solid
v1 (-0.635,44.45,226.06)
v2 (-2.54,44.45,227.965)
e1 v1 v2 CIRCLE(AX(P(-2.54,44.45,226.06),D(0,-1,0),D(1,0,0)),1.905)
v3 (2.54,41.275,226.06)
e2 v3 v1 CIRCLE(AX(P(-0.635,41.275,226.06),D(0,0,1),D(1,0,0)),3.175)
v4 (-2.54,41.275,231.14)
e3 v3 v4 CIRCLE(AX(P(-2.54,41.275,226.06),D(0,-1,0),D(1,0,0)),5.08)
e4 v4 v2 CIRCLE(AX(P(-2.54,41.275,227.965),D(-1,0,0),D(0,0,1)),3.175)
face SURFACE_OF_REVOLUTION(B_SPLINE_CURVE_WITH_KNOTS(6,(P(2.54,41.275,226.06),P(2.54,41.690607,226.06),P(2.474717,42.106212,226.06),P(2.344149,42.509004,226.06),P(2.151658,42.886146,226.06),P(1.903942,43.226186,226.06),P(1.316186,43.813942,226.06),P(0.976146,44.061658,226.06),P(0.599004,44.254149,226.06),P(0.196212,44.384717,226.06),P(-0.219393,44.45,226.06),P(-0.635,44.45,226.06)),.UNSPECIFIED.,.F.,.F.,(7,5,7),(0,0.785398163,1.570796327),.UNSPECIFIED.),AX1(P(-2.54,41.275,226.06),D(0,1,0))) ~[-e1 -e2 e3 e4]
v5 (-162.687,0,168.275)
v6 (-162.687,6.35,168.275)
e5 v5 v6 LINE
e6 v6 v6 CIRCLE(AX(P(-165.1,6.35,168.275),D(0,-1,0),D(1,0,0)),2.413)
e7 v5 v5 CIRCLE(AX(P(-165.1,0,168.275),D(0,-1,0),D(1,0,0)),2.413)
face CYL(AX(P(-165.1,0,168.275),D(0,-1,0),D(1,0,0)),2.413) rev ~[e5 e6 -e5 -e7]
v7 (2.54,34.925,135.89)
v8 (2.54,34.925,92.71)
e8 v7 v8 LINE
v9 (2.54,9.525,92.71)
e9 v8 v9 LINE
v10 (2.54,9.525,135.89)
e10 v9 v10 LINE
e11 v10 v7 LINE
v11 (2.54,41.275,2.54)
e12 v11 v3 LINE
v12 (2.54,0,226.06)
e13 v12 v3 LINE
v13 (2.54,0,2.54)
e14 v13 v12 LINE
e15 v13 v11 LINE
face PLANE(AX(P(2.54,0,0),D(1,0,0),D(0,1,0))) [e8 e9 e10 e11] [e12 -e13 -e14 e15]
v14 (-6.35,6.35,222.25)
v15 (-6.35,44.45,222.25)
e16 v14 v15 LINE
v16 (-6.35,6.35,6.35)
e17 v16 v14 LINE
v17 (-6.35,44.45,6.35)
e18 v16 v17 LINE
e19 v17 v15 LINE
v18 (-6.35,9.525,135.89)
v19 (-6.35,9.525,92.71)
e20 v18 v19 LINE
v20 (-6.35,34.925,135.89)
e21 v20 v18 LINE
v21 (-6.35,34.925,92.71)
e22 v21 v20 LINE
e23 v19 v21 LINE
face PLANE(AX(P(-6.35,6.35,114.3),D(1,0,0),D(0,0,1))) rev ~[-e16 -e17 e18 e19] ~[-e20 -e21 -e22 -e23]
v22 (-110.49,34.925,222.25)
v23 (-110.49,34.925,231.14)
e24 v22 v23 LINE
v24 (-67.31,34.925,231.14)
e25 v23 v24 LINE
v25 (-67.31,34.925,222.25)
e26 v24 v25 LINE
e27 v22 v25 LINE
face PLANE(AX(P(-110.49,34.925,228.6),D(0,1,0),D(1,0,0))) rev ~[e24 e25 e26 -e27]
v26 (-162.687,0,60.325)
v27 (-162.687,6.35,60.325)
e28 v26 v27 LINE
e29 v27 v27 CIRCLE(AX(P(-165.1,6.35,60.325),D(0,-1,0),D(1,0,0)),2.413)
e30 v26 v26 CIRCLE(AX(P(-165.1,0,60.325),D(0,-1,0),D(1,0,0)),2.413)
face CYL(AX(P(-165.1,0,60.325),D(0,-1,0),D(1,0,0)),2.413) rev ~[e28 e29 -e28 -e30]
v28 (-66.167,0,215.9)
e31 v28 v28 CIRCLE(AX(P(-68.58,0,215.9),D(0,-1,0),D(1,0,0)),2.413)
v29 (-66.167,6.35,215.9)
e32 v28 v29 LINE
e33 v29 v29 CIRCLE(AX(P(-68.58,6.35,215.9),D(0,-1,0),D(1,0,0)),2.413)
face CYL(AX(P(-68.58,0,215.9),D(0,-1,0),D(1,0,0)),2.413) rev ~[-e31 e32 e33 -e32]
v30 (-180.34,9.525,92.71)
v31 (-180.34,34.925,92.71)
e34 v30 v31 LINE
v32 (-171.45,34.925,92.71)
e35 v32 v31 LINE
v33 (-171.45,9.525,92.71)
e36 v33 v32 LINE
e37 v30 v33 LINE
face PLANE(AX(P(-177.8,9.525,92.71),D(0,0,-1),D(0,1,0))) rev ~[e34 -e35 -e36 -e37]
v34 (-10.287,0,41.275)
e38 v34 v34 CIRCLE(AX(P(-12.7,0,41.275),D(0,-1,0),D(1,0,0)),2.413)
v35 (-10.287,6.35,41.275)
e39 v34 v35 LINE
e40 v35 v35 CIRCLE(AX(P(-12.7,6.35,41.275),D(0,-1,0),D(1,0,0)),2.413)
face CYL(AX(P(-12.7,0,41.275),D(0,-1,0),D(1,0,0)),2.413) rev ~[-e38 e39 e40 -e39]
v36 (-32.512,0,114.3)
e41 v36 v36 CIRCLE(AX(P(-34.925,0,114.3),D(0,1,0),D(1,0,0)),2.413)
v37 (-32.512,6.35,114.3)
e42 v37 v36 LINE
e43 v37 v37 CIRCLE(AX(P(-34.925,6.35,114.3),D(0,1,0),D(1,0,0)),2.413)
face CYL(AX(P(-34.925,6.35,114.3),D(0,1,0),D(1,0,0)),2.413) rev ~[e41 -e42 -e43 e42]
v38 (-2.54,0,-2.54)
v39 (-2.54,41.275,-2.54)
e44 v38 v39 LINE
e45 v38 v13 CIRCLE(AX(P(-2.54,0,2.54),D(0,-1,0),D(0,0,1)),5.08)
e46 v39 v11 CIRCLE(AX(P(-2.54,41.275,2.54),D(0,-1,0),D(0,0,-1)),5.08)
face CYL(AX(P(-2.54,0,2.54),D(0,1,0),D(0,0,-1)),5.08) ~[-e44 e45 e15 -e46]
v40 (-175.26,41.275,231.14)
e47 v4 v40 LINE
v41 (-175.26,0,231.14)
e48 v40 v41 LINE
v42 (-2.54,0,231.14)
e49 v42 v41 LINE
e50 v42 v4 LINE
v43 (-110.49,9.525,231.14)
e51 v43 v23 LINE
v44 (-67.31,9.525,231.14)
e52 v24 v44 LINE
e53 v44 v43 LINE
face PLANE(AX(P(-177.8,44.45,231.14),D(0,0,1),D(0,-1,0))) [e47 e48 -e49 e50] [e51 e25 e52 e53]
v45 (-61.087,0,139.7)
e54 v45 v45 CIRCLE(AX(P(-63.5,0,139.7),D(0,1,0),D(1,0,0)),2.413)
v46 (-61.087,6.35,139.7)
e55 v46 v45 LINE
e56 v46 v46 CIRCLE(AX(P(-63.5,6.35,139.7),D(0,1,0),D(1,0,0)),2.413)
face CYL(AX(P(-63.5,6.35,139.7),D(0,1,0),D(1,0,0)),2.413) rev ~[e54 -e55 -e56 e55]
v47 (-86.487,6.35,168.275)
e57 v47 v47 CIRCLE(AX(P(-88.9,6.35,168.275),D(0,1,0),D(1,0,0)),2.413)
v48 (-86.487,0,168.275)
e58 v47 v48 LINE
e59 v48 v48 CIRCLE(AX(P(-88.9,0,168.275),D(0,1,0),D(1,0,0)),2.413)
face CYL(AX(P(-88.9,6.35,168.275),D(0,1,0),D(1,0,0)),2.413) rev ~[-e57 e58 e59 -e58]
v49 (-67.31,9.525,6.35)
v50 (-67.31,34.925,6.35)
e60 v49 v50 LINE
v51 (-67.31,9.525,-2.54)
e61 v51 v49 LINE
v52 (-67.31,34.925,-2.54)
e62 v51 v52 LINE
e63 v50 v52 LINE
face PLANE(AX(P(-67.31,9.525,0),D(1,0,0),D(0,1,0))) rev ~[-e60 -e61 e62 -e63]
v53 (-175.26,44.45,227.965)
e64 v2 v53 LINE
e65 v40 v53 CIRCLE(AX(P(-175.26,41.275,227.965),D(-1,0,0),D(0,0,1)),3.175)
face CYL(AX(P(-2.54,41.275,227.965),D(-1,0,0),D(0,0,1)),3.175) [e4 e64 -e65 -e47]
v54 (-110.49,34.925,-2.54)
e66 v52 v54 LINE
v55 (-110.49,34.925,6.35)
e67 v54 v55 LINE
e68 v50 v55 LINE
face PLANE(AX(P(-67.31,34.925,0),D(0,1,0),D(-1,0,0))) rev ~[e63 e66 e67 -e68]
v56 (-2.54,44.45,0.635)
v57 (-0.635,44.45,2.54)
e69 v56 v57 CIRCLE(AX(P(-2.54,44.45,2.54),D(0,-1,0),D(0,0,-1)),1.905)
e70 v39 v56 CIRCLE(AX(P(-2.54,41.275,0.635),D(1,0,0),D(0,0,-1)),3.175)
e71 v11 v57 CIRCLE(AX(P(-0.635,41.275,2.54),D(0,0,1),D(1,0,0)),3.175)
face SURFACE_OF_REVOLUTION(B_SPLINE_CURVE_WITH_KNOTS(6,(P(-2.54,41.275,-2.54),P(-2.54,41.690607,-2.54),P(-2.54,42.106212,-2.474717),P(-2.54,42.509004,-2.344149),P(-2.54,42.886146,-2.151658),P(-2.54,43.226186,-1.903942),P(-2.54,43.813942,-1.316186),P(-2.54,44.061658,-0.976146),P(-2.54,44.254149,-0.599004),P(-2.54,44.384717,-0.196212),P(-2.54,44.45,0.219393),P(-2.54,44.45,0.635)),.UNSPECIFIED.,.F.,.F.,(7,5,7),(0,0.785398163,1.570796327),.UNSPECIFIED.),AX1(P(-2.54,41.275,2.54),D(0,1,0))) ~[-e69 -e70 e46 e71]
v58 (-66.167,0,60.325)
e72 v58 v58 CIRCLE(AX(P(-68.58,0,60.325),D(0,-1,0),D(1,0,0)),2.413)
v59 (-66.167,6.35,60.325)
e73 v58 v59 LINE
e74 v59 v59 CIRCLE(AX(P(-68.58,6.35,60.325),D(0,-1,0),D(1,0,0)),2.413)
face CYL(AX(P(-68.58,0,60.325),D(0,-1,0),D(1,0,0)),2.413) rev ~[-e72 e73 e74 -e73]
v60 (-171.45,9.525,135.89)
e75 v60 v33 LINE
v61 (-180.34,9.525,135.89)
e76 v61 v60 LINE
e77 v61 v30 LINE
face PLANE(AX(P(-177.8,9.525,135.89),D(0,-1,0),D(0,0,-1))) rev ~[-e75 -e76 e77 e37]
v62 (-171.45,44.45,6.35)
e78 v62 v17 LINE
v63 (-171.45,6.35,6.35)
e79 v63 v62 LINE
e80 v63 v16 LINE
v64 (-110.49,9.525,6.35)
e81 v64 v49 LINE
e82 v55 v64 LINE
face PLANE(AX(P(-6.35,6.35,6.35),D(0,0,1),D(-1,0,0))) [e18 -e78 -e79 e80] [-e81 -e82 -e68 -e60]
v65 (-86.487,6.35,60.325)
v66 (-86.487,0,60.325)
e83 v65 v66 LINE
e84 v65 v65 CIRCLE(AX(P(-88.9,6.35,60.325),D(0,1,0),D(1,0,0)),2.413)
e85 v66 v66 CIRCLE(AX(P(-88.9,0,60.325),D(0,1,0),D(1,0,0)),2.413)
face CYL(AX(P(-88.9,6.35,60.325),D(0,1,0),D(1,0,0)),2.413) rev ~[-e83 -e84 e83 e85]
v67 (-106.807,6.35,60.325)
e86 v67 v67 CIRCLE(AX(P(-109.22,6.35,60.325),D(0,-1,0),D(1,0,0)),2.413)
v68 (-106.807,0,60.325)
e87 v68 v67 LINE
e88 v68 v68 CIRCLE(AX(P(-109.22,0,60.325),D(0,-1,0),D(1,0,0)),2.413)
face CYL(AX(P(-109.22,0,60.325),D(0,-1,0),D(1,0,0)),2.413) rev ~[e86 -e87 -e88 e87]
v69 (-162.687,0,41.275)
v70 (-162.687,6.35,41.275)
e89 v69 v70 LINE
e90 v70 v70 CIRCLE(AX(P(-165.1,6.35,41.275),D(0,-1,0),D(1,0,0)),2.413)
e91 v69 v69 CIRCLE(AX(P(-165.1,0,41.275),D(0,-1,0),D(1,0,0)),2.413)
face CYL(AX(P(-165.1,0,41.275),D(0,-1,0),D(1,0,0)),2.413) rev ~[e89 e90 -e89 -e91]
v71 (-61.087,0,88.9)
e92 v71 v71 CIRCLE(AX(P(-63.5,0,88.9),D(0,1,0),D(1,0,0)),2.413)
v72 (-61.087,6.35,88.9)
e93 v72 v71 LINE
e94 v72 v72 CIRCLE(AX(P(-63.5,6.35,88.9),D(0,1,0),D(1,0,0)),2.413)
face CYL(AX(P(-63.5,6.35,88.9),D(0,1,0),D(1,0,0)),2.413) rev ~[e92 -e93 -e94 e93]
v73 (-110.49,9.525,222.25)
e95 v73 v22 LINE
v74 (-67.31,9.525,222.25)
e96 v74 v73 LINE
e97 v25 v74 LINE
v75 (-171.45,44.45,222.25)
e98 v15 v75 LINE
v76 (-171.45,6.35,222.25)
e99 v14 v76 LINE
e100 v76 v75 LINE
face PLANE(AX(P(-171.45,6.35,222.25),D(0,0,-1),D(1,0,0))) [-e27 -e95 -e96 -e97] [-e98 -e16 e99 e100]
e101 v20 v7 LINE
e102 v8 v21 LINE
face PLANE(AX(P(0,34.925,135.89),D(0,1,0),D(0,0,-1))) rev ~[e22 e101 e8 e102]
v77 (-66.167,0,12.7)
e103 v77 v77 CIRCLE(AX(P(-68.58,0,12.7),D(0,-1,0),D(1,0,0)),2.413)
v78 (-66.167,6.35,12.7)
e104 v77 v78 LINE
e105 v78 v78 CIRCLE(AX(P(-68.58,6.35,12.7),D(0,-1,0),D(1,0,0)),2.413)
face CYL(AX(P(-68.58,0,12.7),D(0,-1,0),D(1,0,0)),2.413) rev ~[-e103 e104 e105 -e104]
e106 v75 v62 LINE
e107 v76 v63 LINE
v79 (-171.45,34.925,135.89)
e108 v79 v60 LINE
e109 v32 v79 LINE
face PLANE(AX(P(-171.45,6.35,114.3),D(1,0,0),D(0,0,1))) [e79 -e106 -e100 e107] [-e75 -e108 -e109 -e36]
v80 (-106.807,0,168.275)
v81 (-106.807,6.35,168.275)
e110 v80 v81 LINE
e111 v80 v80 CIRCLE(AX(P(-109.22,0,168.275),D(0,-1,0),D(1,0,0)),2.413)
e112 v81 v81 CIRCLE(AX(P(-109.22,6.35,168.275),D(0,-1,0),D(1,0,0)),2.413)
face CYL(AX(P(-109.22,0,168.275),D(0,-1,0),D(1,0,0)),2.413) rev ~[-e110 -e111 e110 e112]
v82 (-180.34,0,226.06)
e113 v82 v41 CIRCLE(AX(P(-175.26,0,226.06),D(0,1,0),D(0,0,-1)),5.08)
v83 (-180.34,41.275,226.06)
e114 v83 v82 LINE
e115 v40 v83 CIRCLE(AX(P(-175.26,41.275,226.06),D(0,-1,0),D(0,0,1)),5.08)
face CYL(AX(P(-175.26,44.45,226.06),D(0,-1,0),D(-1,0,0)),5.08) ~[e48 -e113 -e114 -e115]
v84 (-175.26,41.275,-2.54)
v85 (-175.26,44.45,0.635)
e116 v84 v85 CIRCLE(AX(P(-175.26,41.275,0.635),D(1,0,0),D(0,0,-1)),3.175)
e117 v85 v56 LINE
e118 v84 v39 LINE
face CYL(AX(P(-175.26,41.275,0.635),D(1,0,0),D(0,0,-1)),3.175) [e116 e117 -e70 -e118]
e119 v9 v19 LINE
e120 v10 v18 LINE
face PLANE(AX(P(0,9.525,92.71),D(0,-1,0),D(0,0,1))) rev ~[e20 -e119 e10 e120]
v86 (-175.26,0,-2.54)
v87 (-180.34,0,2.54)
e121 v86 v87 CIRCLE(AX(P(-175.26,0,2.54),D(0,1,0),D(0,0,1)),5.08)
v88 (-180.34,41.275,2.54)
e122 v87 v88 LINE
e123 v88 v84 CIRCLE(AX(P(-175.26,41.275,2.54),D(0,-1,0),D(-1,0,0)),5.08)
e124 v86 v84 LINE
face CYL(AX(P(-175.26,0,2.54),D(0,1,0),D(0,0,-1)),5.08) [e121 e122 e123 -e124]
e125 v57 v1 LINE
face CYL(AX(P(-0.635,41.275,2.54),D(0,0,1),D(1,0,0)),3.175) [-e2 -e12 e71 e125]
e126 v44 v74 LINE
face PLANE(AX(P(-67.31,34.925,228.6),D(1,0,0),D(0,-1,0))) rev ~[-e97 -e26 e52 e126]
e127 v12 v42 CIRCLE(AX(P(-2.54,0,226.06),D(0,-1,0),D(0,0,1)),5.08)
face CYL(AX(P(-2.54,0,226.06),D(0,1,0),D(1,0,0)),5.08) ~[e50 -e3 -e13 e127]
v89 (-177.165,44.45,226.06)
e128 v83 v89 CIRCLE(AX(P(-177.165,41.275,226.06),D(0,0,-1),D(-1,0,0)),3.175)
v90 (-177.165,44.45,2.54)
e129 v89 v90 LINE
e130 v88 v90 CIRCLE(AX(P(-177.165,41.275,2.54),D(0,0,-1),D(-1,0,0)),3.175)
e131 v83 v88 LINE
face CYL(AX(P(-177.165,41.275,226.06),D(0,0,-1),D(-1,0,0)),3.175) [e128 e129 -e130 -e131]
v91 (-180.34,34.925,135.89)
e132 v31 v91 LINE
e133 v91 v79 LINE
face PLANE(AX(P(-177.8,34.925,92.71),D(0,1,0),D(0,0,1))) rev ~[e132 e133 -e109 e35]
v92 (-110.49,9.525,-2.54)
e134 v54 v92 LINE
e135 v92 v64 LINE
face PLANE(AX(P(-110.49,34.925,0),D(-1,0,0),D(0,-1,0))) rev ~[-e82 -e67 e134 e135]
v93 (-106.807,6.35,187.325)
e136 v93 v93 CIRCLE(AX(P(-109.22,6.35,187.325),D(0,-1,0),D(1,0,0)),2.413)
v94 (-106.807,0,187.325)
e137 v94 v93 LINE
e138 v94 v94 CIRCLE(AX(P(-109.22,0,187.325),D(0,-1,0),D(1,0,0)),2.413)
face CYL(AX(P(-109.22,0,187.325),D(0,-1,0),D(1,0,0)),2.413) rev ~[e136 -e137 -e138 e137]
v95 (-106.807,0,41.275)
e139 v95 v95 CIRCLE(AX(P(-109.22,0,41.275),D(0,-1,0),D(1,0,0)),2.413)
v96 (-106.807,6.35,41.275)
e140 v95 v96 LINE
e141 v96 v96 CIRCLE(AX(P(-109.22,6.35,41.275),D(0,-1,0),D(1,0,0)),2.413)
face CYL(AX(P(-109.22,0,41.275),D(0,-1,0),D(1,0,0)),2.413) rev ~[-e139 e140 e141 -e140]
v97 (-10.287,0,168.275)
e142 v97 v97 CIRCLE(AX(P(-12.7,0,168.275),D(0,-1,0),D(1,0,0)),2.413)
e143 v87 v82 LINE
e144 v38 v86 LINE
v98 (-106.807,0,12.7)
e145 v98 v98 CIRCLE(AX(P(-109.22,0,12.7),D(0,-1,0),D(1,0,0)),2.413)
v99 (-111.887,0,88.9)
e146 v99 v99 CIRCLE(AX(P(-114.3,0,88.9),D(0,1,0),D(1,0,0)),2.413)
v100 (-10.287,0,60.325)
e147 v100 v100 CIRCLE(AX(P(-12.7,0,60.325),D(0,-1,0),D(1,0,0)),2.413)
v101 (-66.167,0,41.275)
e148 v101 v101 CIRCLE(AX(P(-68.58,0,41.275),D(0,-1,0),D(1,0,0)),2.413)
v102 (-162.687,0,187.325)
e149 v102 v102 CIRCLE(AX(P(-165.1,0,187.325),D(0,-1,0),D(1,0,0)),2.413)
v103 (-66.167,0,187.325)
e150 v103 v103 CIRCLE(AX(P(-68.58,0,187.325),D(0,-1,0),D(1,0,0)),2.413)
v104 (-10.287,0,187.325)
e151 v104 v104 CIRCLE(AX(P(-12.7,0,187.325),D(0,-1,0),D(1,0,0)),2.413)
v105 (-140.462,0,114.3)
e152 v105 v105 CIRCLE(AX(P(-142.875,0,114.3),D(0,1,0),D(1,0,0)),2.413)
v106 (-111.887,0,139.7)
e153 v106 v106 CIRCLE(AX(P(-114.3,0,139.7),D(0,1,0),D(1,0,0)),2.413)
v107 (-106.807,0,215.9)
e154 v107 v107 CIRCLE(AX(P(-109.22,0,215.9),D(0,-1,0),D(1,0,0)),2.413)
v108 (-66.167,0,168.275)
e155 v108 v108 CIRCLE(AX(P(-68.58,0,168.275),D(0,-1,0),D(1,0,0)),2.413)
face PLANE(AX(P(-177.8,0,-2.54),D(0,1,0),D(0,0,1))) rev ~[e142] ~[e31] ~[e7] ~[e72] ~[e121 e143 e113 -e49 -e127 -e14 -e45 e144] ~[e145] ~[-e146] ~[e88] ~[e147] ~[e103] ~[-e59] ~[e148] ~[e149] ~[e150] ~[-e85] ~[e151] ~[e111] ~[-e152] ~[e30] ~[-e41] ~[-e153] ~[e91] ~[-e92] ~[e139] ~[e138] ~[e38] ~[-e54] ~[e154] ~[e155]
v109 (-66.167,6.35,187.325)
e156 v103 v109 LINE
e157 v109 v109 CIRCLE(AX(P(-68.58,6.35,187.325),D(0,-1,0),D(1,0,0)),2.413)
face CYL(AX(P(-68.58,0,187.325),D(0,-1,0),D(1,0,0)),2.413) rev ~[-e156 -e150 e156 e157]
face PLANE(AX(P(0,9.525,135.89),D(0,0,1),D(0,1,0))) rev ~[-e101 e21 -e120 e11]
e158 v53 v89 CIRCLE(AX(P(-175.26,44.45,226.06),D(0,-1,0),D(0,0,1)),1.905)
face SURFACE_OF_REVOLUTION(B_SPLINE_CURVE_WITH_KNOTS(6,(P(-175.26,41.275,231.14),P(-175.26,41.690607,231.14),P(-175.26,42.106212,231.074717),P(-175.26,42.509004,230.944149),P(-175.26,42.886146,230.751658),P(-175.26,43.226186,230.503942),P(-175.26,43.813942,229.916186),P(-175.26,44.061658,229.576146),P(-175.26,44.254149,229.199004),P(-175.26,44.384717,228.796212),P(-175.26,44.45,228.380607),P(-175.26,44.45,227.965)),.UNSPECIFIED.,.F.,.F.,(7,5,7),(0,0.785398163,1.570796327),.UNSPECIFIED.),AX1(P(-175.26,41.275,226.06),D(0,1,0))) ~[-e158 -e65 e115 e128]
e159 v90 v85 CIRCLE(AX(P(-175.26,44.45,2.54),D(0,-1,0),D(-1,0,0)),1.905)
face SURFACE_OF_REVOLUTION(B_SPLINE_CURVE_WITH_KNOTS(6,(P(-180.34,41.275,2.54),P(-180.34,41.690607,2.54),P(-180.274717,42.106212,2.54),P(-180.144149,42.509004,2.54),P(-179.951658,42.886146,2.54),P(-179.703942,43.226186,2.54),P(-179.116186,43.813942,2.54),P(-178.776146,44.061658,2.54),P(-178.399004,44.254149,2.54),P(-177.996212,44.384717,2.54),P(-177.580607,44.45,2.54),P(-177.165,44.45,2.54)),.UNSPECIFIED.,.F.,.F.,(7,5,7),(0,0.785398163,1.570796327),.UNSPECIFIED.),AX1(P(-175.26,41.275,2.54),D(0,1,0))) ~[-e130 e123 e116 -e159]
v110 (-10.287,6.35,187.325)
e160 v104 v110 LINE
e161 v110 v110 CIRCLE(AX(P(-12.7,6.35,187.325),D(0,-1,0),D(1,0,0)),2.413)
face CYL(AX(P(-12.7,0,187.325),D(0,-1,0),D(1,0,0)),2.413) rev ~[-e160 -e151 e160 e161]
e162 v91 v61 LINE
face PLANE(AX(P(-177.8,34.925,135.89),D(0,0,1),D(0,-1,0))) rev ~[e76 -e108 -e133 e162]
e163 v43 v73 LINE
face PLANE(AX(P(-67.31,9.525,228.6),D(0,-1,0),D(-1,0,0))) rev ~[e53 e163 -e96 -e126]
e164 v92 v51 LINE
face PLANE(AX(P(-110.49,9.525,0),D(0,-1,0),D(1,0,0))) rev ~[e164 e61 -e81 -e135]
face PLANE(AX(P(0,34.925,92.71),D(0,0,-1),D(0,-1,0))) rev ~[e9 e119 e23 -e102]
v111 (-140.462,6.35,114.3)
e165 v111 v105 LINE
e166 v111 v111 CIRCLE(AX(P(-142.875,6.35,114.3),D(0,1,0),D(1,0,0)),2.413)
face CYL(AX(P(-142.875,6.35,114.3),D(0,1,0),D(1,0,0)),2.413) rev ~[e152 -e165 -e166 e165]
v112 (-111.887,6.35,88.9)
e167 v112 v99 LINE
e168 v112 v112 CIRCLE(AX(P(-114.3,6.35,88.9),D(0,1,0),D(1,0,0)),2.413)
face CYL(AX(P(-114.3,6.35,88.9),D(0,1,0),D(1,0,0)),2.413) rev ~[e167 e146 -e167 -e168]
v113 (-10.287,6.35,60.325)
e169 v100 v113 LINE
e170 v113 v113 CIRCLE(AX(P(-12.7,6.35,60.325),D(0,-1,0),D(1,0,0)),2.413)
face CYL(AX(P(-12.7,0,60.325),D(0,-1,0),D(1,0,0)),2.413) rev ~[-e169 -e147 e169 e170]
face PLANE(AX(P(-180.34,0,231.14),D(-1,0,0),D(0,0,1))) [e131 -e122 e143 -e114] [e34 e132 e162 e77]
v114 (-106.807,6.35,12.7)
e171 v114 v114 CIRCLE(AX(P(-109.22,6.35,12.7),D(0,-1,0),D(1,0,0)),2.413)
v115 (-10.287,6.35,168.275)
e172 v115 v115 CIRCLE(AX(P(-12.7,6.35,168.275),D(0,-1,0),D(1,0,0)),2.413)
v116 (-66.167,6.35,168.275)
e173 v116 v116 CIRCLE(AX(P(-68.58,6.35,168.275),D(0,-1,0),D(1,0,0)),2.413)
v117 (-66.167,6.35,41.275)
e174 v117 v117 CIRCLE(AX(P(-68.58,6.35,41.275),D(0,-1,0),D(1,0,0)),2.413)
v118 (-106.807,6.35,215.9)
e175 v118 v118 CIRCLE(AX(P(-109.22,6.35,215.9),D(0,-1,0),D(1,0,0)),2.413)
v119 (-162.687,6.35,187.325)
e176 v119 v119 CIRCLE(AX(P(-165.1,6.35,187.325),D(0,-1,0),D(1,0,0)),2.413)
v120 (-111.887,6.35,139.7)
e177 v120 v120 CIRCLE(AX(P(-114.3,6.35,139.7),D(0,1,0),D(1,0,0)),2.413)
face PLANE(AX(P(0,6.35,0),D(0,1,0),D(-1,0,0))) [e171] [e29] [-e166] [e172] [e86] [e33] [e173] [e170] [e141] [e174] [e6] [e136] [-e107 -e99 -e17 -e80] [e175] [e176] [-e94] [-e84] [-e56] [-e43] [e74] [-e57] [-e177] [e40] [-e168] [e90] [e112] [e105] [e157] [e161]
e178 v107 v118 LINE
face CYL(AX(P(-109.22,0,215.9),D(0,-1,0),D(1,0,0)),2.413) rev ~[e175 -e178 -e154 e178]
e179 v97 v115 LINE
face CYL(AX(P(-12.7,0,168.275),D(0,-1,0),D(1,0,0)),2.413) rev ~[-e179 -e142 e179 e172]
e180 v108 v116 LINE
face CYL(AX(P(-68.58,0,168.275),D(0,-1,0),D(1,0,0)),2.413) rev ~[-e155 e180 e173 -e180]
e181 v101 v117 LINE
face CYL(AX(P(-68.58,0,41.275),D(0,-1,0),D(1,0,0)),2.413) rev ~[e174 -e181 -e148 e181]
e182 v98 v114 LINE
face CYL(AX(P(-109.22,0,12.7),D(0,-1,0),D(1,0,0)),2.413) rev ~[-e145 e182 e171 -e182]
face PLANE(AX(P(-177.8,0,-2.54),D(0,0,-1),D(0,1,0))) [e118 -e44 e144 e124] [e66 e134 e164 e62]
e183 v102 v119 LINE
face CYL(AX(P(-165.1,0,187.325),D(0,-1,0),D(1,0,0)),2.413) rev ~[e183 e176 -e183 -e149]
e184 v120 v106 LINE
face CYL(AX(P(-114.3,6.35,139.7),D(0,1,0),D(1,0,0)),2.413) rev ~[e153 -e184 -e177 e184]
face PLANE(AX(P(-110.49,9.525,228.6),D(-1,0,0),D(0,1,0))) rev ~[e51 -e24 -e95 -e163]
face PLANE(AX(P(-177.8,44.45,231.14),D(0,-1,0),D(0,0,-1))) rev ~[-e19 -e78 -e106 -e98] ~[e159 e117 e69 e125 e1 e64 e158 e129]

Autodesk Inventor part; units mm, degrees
ref_plane "YZ Plane" through (0, 0, 0) normal (1, 0, 0) x (0, 1, 0)
ref_plane "XZ Plane" through (0, 0, 0) normal (0, 1, 0) x (-1, 0, 0)
ref_plane "XY Plane" through (0, 0, 0) normal (0, 0, 1) x (1, 0, 0)
sketch "Sketch2" plane through (0, 0, 0) normal (0, 1, 0) x (-1, 0, 0)
  line L0 (0, 0) -> (177.8, 0)
  line L1 (177.8, 0) -> (177.8, 228.6)
  line L2 (177.8, 228.6) -> (0, 228.6)
  line L3 (0, 228.6) -> (0, 0)
  dimension "d0" = 177.8
  dimension "d1" = 228.6
extrude "Extrusion1" add sketch "Sketch2" along normal blind 6.35
sketch "Sketch3" plane through (0, 6.35, 0) normal (0, 1, 0) x (1, 0, 0)
  line L0 (-177.8, -228.6) -> (0, -228.6) projected
  line L1 (-177.8, 0) -> (-177.8, -228.6) projected
  line L2 (0, 0) -> (-177.8, 0) projected
  line L3 (0, -228.6) -> (0, 0) projected
  line L4 (-88.9, -228.6) -> (-88.9, -222.25) construction
  line L5 (-88.9, 0) -> (-88.9, -6.35) construction
  line L6 (-177.8, -114.3) -> (-171.45, -114.3) construction
  line L7 (0, -114.3) -> (-6.35, -114.3) construction
  line L8 (-171.45, -114.3) -> (-171.45, -6.35)
  line L9 (-171.45, -114.3) -> (-171.45, -222.25)
  line L10 (-171.45, -6.35) -> (-88.9, -6.35)
  line L11 (-6.35, -6.35) -> (-88.9, -6.35)
  line L12 (-6.35, -6.35) -> (-6.35, -114.3)
  line L13 (-6.35, -114.3) -> (-6.35, -222.25)
  line L14 (-6.35, -222.25) -> (-88.9, -222.25)
  line L15 (-171.45, -222.25) -> (-88.9, -222.25)
  line L16 (-177.8, -228.6) -> (0, -228.6)
  line L17 (0, -228.6) -> (0, 0)
  line L18 (0, 0) -> (-177.8, 0)
  line L19 (-177.8, 0) -> (-177.8, -228.6)
  dimension "d4" = 6.35
  dimension "d5" = 6.35
  dimension "d6" = 6.35
  dimension "d7" = 6.35
extrude "Extrusion2" add sketch "Sketch3" along normal blind 38.1
sketch "Sketch4" plane through (0, 0, 0) normal (0, -1, 0) x (1, 0, 0)
  line L0 (-177.8, 0) -> (-177.8, 228.6) projected
  line L1 (-177.8, 228.6) -> (0, 228.6) construction
  line L2 (0, 228.6) -> (0, 0) projected
  line L3 (0, 0) -> (-177.8, 0) projected
  line L4 (-88.9, 228.6) -> (-88.9, 0) construction
  line L5 (0, 114.3) -> (-177.8, 114.3) construction
  line L6 (-88.9, 228.6) -> (-68.58, 228.6)
  line L7 (0, 228.6) -> (-177.8, 228.6) construction
  line L8 (-88.9, 228.6) -> (-109.22, 228.6)
  line L9 (-68.58, 228.6) -> (-68.58, 0) construction
  line L10 (-109.22, 228.6) -> (-109.22, 0) construction
  line L11 (-68.58, 228.6) -> (-68.58, 177.8) construction
  line L12 (-109.22, 228.6) -> (-109.22, 177.8) construction
  line L13 (-68.58, 177.8) -> (-68.58, 187.325) construction
  line L14 (-68.58, 177.8) -> (-68.58, 168.275) construction
  circle A0 centre (-68.58, 187.325) radius 2.413
  circle A1 centre (-68.58, 168.275) radius 2.413
  line L15 (-68.58, 187.325) -> (0, 187.325) construction
  line L16 (0, 187.325) -> (-12.7, 187.325) construction
  line L17 (-68.58, 168.275) -> (0, 168.275) construction
  line L18 (0, 168.275) -> (-12.7, 168.275) construction
  circle A2 centre (-12.7, 187.325) radius 2.413
  circle A3 centre (-12.7, 168.275) radius 2.413
  circle A4 centre (-68.58, 215.9) radius 2.413
  circle A5 centre (-109.22, 187.325) radius 2.413
  circle A6 centre (-109.22, 168.275) radius 2.413
  circle A7 centre (-165.1, 187.325) radius 2.413
  circle A8 centre (-165.1, 168.275) radius 2.413
  circle A9 centre (-109.22, 215.9) radius 2.413
  circle A10 centre (-68.58, 41.275) radius 2.413
  circle A11 centre (-68.58, 60.325) radius 2.413
  circle A12 centre (-12.7, 41.275) radius 2.413
  circle A13 centre (-12.7, 60.325) radius 2.413
  circle A14 centre (-68.58, 12.7) radius 2.413
  circle A15 centre (-109.22, 12.7) radius 2.413
  circle A16 centre (-109.22, 41.275) radius 2.413
  circle A17 centre (-165.1, 41.275) radius 2.413
  circle A18 centre (-165.1, 60.325) radius 2.413
  circle A19 centre (-109.22, 60.325) radius 2.413
  dimension "d10" = 20.32
  dimension "d11" = 50.8
  dimension "d12" = 9.525
  dimension "d13" = 4.826
  dimension "d14" = 4.826
  dimension "d16" = 12.7
  dimension "d17" = 4.826
  dimension "d18" = 4.826
  dimension "d19" = 12.7
  dimension "d20" = 4.826
  dimension "d21" = 12.7
extrude "Extrusion3" cut sketch "Sketch4" against normal through all
sketch "Sketch5" plane through (0, 6.35, 0) normal (0, 1, 0) x (1, 0, 0)
  circle A0 centre (-109.22, -187.325) radius 2.413 projected
  circle A1 centre (-68.58, -168.275) radius 2.413 projected
  circle A2 centre (-12.7, -60.325) radius 2.413 projected
  circle A3 centre (-68.58, -12.7) radius 2.413 projected
  circle A4 centre (-165.1, -60.325) radius 2.413 projected
  circle A5 centre (-109.22, -60.325) radius 2.413 projected
  circle A6 centre (-68.58, -60.325) radius 2.413 projected
  circle A7 centre (-12.7, -168.275) radius 2.413 projected
  circle A8 centre (-109.22, -168.275) radius 2.413 projected
  circle A9 centre (-109.22, -215.9) radius 2.413 projected
  circle A10 centre (-165.1, -187.325) radius 2.413 projected
  circle A11 centre (-68.58, -187.325) radius 2.413 projected
  circle A12 centre (-12.7, -41.275) radius 2.413 projected
  circle A13 centre (-109.22, -12.7) radius 2.413 projected
  circle A14 centre (-165.1, -41.275) radius 2.413 projected
  circle A15 centre (-109.22, -41.275) radius 2.413 projected
  circle A16 centre (-68.58, -41.275) radius 2.413 projected
  circle A17 centre (-12.7, -187.325) radius 2.413 projected
  circle A18 centre (-165.1, -168.275) radius 2.413 projected
  circle A19 centre (-68.58, -215.9) radius 2.413 projected
  line L0 (-171.45, -222.25) -> (-6.35, -222.25) projected
  line L1 (-6.35, -222.25) -> (-6.35, -6.35) projected
  line L2 (-6.35, -6.35) -> (-171.45, -6.35) projected
  line L3 (-171.45, -6.35) -> (-171.45, -222.25) projected
  line L4 (-171.45, -114.3) -> (-6.35, -114.3) construction
  line L5 (-88.9, -6.35) -> (-88.9, -222.25) construction
  line L6 (-34.925, -168.275) -> (-142.875, -168.275) construction
  line L7 (-142.875, -168.275) -> (-142.875, -60.325) construction
  line L8 (-142.875, -60.325) -> (-34.925, -60.325) construction
  line L9 (-34.925, -60.325) -> (-34.925, -168.275) construction
  line L10 (-34.925, -168.275) -> (-142.875, -60.325) construction
  line L11 (-142.875, -168.275) -> (-34.925, -60.325) construction
  circle A20 centre (-88.9, -168.275) radius 2.413
  circle A21 centre (-142.875, -114.3) radius 2.413
  circle A22 centre (-88.9, -60.325) radius 2.413
  circle A23 centre (-34.925, -114.3) radius 2.413
  point P0 (0, 0)
  point P1 (-88.9, -114.3)
  dimension "d24" = 107.95
  dimension "d25" = 107.95
  dimension "d26" = 4.826
  dimension "d27" = 4.826
  dimension "d28" = 4.826
  dimension "d29" = 4.826
extrude "Extrusion4" cut sketch "Sketch5" against normal blind 6.35 contours A20 | A21 | A22 | A23
sketch "Sketch8" plane through (0, 6.35, 0) normal (0, 1, 0) x (1, 0, 0)
  circle A0 centre (-88.9, -168.275) radius 2.413 projected
  circle A1 centre (-88.9, -60.325) radius 2.413 projected
  circle A2 centre (-34.925, -114.3) radius 2.413 projected
  circle A3 centre (-142.875, -114.3) radius 2.413 projected
  circle A4 centre (-109.22, -187.325) radius 2.413 projected
  circle A5 centre (-68.58, -168.275) radius 2.413 projected
  circle A6 centre (-12.7, -60.325) radius 2.413 projected
  circle A7 centre (-68.58, -12.7) radius 2.413 projected
  circle A8 centre (-165.1, -60.325) radius 2.413 projected
  circle A9 centre (-109.22, -60.325) radius 2.413 projected
  circle A10 centre (-68.58, -60.325) radius 2.413 projected
  circle A11 centre (-12.7, -168.275) radius 2.413 projected
  circle A12 centre (-109.22, -168.275) radius 2.413 projected
  circle A13 centre (-109.22, -215.9) radius 2.413 projected
  circle A14 centre (-165.1, -187.325) radius 2.413 projected
  circle A15 centre (-68.58, -187.325) radius 2.413 projected
  circle A16 centre (-12.7, -41.275) radius 2.413 projected
  circle A17 centre (-109.22, -12.7) radius 2.413 projected
  circle A18 centre (-165.1, -41.275) radius 2.413 projected
  circle A19 centre (-109.22, -41.275) radius 2.413 projected
  circle A20 centre (-68.58, -41.275) radius 2.413 projected
  circle A21 centre (-12.7, -187.325) radius 2.413 projected
  circle A22 centre (-165.1, -168.275) radius 2.413 projected
  circle A23 centre (-68.58, -215.9) radius 2.413 projected
  line L0 (-171.45, -222.25) -> (-6.35, -222.25) projected
  line L1 (-6.35, -222.25) -> (-6.35, -6.35) projected
  line L2 (-6.35, -6.35) -> (-171.45, -6.35) projected
  line L3 (-171.45, -6.35) -> (-171.45, -222.25) projected
  line L4 (-142.875, -114.3) -> (-34.925, -114.3) construction
  line L5 (-88.9, -60.325) -> (-88.9, -168.275) construction
  line L6 (-114.3, -88.9) -> (-63.5, -88.9) construction
  line L7 (-63.5, -88.9) -> (-63.5, -139.7) construction
  line L8 (-63.5, -139.7) -> (-114.3, -139.7) construction
  line L9 (-114.3, -139.7) -> (-114.3, -88.9) construction
  line L10 (-114.3, -88.9) -> (-63.5, -139.7) construction
  line L11 (-63.5, -88.9) -> (-114.3, -139.7) construction
  circle A24 centre (-114.3, -88.9) radius 2.413
  circle A25 centre (-63.5, -88.9) radius 2.413
  circle A26 centre (-114.3, -139.7) radius 2.413
  circle A27 centre (-63.5, -139.7) radius 2.413
  point P0 (0, 0)
  point P1 (-88.9, -114.3)
  dimension "d38" = 50.8
  dimension "d39" = 50.8
  dimension "d40" = 4.826
  dimension "d41" = 4.826
  dimension "d42" = 4.826
  dimension "d43" = 4.826
extrude "Extrusion7" cut sketch "Sketch8" against normal through all contours A24 | A25 | A26 | A27
sketch "Sketch9" plane through (-177.8, 0, 228.6) normal (0, 0, 1) x (1, 0, 0)
  line L0 (177.8, 44.45) -> (0, 44.45) projected
  line L1 (88.9, 44.45) -> (88.9, 0) construction
  line L2 (91.313, 0) -> (86.487, 0) projected
  line L3 (177.8, 0) -> (177.8, 44.45) projected
  line L4 (0, 0) -> (0, 44.45) projected
  line L5 (177.8, 22.225) -> (0, 22.225) construction
  line L6 (67.31, 9.525) -> (110.49, 9.525)
  line L7 (110.49, 9.525) -> (110.49, 34.925)
  line L8 (110.49, 34.925) -> (67.31, 34.925)
  line L9 (67.31, 34.925) -> (67.31, 9.525)
  line L10 (67.31, 9.525) -> (110.49, 34.925) construction
  line L11 (110.49, 9.525) -> (67.31, 34.925) construction
  point P0 (88.9, 22.225)
  dimension "d46" = 43.18
  dimension "d47" = 25.4
extrude "Extrusion8" cut sketch "Sketch9" against normal through all
sketch "Sketch10" plane through (0, 0, 228.6) normal (1, 0, 0) x (0, 0, -1)
  line L0 (0, 0) -> (228.6, 0) projected
  line L1 (228.6, 0) -> (228.6, 44.45) projected
  line L2 (0, 44.45) -> (228.6, 44.45) projected
  line L3 (0, 0) -> (0, 44.45) projected
  line L4 (0, 22.225) -> (228.6, 22.225) construction
  line L5 (114.3, 44.45) -> (114.3, 0) construction
  line L6 (92.71, 9.525) -> (135.89, 9.525)
  line L7 (135.89, 9.525) -> (135.89, 34.925)
  line L8 (135.89, 34.925) -> (92.71, 34.925)
  line L9 (92.71, 34.925) -> (92.71, 9.525)
  line L10 (92.71, 9.525) -> (135.89, 34.925) construction
  line L11 (135.89, 9.525) -> (92.71, 34.925) construction
  point P0 (114.3, 22.225)
  dimension "d50" = 43.18
  dimension "d51" = 25.4
extrude "Extrusion9" cut sketch "Sketch10" against normal through all contours L9 L8 L7 L6
sketch "Sketch11" plane through (-177.8, 0, 228.6) normal (0, 0, 1) x (1, 0, 0)
  line L0 (67.31, 34.925) -> (110.49, 34.925) projected
  line L1 (110.49, 34.925) -> (110.49, 9.525) projected
  line L2 (110.49, 9.525) -> (67.31, 9.525) projected
  line L3 (67.31, 9.525) -> (67.31, 34.925) projected
  line L4 (0, 0) -> (177.8, 0) projected
  line L5 (177.8, 0) -> (177.8, 44.45) projected
  line L6 (0, 44.45) -> (177.8, 44.45) projected
  line L7 (0, 0) -> (0, 44.45) projected
  point P0 (177.8, 0)
extrude "Extrusion10" add sketch "Sketch11" along normal blind 2.54
sketch "Sketch12" plane through (0, 0, 0) normal (1, 0, 0) x (0, 0, -1)
  line L0 (-135.89, 34.925) -> (-92.71, 34.925) projected
  line L1 (-92.71, 34.925) -> (-92.71, 9.525) projected
  line L2 (-92.71, 9.525) -> (-135.89, 9.525) projected
  line L3 (-135.89, 9.525) -> (-135.89, 34.925) projected
  line L4 (0, 0) -> (-231.14, 0) projected
  line L5 (0, 0) -> (0, 44.45) projected
  line L6 (0, 44.45) -> (-231.14, 44.45) projected
  line L7 (-231.14, 0) -> (-231.14, 44.45) projected
  line L8 (0, 34.925) -> (0, 9.525) projected
  line L9 (0, 9.525) -> (0, 34.925) projected
  line L10 (0, 0) -> (0, 44.45) projected
  line L11 (0, 0) -> (0, 44.45) projected
extrude "Extrusion11" add sketch "Sketch12" along normal blind 2.54
sketch "Sketch13" plane through (-177.8, 0, 0) normal (0, 0, -1) x (-1, 0, 0)
  line L0 (-110.49, 34.925) -> (-67.31, 34.925) projected
  line L1 (-67.31, 34.925) -> (-67.31, 9.525) projected
  line L2 (-67.31, 9.525) -> (-110.49, 9.525) projected
  line L3 (-110.49, 9.525) -> (-110.49, 34.925) projected
  line L4 (0, 0) -> (-180.34, 0) projected
  line L5 (0, 0) -> (0, 44.45) projected
  line L6 (0, 44.45) -> (-180.34, 44.45) projected
  line L7 (-180.34, 0) -> (-180.34, 44.45) projected
  point P0 (-177.8, 0)
extrude "Extrusion12" add sketch "Sketch13" along normal blind 2.54
sketch "Sketch14" plane through (-177.8, 0, 231.14) normal (-1, 0, 0) x (0, 0, 1)
  line L0 (-138.43, 34.925) -> (-95.25, 34.925) projected
  line L1 (-95.25, 34.925) -> (-95.25, 9.525) projected
  line L2 (-95.25, 9.525) -> (-138.43, 9.525) projected
  line L3 (-138.43, 9.525) -> (-138.43, 34.925) projected
  line L4 (-233.68, 0) -> (0, 0) projected
  line L5 (0, 44.45) -> (0, 0) projected
  line L6 (0, 44.45) -> (-233.68, 44.45) projected
  line L7 (-233.68, 0) -> (-233.68, 44.45) projected
  point P0 (-231.14, 0)
extrude "Extrusion13" add sketch "Sketch14" along normal blind 2.54
fillet "Fillet1" radius 5.08 1 edges at (-180.34, 22.225, 231.14)
fillet "Fillet2" radius 5.08 1 edges at (2.54, 22.225, -2.54)
fillet "Fillet3" radius 5.08 1 edges at (2.54, 22.225, 231.14)
fillet "Fillet4" radius 5.08 1 edges at (-180.34, 22.225, -2.54)
fillet "Fillet5" radius 3.175 4 edges at (-88.9, 44.45, -2.54) (2.54, 44.45, 114.3) (-88.9, 44.45, 231.14) (-180.34, 44.45, 114.3)
equation "\"d2\" = base_thickness"
equation "\"d4\" = base_thickness"
equation "\"d5\" = base_thickness"
equation "\"d6\" = base_thickness"
equation "\"d7\" = base_thickness"
equation "\"d10\" = motor_adapter_across"
equation "\"d12\" = 0.5 * motor_adapter_width"
equation "\"d19\" = d16"
equation "\"d21\" = d16"
equation "\"base_thickness\" = 6.35"
equation "\"motor_adapter_width\" = 19.05"
equation "\"motor_adapter_across\" = 20.32"
properties part number "base"
